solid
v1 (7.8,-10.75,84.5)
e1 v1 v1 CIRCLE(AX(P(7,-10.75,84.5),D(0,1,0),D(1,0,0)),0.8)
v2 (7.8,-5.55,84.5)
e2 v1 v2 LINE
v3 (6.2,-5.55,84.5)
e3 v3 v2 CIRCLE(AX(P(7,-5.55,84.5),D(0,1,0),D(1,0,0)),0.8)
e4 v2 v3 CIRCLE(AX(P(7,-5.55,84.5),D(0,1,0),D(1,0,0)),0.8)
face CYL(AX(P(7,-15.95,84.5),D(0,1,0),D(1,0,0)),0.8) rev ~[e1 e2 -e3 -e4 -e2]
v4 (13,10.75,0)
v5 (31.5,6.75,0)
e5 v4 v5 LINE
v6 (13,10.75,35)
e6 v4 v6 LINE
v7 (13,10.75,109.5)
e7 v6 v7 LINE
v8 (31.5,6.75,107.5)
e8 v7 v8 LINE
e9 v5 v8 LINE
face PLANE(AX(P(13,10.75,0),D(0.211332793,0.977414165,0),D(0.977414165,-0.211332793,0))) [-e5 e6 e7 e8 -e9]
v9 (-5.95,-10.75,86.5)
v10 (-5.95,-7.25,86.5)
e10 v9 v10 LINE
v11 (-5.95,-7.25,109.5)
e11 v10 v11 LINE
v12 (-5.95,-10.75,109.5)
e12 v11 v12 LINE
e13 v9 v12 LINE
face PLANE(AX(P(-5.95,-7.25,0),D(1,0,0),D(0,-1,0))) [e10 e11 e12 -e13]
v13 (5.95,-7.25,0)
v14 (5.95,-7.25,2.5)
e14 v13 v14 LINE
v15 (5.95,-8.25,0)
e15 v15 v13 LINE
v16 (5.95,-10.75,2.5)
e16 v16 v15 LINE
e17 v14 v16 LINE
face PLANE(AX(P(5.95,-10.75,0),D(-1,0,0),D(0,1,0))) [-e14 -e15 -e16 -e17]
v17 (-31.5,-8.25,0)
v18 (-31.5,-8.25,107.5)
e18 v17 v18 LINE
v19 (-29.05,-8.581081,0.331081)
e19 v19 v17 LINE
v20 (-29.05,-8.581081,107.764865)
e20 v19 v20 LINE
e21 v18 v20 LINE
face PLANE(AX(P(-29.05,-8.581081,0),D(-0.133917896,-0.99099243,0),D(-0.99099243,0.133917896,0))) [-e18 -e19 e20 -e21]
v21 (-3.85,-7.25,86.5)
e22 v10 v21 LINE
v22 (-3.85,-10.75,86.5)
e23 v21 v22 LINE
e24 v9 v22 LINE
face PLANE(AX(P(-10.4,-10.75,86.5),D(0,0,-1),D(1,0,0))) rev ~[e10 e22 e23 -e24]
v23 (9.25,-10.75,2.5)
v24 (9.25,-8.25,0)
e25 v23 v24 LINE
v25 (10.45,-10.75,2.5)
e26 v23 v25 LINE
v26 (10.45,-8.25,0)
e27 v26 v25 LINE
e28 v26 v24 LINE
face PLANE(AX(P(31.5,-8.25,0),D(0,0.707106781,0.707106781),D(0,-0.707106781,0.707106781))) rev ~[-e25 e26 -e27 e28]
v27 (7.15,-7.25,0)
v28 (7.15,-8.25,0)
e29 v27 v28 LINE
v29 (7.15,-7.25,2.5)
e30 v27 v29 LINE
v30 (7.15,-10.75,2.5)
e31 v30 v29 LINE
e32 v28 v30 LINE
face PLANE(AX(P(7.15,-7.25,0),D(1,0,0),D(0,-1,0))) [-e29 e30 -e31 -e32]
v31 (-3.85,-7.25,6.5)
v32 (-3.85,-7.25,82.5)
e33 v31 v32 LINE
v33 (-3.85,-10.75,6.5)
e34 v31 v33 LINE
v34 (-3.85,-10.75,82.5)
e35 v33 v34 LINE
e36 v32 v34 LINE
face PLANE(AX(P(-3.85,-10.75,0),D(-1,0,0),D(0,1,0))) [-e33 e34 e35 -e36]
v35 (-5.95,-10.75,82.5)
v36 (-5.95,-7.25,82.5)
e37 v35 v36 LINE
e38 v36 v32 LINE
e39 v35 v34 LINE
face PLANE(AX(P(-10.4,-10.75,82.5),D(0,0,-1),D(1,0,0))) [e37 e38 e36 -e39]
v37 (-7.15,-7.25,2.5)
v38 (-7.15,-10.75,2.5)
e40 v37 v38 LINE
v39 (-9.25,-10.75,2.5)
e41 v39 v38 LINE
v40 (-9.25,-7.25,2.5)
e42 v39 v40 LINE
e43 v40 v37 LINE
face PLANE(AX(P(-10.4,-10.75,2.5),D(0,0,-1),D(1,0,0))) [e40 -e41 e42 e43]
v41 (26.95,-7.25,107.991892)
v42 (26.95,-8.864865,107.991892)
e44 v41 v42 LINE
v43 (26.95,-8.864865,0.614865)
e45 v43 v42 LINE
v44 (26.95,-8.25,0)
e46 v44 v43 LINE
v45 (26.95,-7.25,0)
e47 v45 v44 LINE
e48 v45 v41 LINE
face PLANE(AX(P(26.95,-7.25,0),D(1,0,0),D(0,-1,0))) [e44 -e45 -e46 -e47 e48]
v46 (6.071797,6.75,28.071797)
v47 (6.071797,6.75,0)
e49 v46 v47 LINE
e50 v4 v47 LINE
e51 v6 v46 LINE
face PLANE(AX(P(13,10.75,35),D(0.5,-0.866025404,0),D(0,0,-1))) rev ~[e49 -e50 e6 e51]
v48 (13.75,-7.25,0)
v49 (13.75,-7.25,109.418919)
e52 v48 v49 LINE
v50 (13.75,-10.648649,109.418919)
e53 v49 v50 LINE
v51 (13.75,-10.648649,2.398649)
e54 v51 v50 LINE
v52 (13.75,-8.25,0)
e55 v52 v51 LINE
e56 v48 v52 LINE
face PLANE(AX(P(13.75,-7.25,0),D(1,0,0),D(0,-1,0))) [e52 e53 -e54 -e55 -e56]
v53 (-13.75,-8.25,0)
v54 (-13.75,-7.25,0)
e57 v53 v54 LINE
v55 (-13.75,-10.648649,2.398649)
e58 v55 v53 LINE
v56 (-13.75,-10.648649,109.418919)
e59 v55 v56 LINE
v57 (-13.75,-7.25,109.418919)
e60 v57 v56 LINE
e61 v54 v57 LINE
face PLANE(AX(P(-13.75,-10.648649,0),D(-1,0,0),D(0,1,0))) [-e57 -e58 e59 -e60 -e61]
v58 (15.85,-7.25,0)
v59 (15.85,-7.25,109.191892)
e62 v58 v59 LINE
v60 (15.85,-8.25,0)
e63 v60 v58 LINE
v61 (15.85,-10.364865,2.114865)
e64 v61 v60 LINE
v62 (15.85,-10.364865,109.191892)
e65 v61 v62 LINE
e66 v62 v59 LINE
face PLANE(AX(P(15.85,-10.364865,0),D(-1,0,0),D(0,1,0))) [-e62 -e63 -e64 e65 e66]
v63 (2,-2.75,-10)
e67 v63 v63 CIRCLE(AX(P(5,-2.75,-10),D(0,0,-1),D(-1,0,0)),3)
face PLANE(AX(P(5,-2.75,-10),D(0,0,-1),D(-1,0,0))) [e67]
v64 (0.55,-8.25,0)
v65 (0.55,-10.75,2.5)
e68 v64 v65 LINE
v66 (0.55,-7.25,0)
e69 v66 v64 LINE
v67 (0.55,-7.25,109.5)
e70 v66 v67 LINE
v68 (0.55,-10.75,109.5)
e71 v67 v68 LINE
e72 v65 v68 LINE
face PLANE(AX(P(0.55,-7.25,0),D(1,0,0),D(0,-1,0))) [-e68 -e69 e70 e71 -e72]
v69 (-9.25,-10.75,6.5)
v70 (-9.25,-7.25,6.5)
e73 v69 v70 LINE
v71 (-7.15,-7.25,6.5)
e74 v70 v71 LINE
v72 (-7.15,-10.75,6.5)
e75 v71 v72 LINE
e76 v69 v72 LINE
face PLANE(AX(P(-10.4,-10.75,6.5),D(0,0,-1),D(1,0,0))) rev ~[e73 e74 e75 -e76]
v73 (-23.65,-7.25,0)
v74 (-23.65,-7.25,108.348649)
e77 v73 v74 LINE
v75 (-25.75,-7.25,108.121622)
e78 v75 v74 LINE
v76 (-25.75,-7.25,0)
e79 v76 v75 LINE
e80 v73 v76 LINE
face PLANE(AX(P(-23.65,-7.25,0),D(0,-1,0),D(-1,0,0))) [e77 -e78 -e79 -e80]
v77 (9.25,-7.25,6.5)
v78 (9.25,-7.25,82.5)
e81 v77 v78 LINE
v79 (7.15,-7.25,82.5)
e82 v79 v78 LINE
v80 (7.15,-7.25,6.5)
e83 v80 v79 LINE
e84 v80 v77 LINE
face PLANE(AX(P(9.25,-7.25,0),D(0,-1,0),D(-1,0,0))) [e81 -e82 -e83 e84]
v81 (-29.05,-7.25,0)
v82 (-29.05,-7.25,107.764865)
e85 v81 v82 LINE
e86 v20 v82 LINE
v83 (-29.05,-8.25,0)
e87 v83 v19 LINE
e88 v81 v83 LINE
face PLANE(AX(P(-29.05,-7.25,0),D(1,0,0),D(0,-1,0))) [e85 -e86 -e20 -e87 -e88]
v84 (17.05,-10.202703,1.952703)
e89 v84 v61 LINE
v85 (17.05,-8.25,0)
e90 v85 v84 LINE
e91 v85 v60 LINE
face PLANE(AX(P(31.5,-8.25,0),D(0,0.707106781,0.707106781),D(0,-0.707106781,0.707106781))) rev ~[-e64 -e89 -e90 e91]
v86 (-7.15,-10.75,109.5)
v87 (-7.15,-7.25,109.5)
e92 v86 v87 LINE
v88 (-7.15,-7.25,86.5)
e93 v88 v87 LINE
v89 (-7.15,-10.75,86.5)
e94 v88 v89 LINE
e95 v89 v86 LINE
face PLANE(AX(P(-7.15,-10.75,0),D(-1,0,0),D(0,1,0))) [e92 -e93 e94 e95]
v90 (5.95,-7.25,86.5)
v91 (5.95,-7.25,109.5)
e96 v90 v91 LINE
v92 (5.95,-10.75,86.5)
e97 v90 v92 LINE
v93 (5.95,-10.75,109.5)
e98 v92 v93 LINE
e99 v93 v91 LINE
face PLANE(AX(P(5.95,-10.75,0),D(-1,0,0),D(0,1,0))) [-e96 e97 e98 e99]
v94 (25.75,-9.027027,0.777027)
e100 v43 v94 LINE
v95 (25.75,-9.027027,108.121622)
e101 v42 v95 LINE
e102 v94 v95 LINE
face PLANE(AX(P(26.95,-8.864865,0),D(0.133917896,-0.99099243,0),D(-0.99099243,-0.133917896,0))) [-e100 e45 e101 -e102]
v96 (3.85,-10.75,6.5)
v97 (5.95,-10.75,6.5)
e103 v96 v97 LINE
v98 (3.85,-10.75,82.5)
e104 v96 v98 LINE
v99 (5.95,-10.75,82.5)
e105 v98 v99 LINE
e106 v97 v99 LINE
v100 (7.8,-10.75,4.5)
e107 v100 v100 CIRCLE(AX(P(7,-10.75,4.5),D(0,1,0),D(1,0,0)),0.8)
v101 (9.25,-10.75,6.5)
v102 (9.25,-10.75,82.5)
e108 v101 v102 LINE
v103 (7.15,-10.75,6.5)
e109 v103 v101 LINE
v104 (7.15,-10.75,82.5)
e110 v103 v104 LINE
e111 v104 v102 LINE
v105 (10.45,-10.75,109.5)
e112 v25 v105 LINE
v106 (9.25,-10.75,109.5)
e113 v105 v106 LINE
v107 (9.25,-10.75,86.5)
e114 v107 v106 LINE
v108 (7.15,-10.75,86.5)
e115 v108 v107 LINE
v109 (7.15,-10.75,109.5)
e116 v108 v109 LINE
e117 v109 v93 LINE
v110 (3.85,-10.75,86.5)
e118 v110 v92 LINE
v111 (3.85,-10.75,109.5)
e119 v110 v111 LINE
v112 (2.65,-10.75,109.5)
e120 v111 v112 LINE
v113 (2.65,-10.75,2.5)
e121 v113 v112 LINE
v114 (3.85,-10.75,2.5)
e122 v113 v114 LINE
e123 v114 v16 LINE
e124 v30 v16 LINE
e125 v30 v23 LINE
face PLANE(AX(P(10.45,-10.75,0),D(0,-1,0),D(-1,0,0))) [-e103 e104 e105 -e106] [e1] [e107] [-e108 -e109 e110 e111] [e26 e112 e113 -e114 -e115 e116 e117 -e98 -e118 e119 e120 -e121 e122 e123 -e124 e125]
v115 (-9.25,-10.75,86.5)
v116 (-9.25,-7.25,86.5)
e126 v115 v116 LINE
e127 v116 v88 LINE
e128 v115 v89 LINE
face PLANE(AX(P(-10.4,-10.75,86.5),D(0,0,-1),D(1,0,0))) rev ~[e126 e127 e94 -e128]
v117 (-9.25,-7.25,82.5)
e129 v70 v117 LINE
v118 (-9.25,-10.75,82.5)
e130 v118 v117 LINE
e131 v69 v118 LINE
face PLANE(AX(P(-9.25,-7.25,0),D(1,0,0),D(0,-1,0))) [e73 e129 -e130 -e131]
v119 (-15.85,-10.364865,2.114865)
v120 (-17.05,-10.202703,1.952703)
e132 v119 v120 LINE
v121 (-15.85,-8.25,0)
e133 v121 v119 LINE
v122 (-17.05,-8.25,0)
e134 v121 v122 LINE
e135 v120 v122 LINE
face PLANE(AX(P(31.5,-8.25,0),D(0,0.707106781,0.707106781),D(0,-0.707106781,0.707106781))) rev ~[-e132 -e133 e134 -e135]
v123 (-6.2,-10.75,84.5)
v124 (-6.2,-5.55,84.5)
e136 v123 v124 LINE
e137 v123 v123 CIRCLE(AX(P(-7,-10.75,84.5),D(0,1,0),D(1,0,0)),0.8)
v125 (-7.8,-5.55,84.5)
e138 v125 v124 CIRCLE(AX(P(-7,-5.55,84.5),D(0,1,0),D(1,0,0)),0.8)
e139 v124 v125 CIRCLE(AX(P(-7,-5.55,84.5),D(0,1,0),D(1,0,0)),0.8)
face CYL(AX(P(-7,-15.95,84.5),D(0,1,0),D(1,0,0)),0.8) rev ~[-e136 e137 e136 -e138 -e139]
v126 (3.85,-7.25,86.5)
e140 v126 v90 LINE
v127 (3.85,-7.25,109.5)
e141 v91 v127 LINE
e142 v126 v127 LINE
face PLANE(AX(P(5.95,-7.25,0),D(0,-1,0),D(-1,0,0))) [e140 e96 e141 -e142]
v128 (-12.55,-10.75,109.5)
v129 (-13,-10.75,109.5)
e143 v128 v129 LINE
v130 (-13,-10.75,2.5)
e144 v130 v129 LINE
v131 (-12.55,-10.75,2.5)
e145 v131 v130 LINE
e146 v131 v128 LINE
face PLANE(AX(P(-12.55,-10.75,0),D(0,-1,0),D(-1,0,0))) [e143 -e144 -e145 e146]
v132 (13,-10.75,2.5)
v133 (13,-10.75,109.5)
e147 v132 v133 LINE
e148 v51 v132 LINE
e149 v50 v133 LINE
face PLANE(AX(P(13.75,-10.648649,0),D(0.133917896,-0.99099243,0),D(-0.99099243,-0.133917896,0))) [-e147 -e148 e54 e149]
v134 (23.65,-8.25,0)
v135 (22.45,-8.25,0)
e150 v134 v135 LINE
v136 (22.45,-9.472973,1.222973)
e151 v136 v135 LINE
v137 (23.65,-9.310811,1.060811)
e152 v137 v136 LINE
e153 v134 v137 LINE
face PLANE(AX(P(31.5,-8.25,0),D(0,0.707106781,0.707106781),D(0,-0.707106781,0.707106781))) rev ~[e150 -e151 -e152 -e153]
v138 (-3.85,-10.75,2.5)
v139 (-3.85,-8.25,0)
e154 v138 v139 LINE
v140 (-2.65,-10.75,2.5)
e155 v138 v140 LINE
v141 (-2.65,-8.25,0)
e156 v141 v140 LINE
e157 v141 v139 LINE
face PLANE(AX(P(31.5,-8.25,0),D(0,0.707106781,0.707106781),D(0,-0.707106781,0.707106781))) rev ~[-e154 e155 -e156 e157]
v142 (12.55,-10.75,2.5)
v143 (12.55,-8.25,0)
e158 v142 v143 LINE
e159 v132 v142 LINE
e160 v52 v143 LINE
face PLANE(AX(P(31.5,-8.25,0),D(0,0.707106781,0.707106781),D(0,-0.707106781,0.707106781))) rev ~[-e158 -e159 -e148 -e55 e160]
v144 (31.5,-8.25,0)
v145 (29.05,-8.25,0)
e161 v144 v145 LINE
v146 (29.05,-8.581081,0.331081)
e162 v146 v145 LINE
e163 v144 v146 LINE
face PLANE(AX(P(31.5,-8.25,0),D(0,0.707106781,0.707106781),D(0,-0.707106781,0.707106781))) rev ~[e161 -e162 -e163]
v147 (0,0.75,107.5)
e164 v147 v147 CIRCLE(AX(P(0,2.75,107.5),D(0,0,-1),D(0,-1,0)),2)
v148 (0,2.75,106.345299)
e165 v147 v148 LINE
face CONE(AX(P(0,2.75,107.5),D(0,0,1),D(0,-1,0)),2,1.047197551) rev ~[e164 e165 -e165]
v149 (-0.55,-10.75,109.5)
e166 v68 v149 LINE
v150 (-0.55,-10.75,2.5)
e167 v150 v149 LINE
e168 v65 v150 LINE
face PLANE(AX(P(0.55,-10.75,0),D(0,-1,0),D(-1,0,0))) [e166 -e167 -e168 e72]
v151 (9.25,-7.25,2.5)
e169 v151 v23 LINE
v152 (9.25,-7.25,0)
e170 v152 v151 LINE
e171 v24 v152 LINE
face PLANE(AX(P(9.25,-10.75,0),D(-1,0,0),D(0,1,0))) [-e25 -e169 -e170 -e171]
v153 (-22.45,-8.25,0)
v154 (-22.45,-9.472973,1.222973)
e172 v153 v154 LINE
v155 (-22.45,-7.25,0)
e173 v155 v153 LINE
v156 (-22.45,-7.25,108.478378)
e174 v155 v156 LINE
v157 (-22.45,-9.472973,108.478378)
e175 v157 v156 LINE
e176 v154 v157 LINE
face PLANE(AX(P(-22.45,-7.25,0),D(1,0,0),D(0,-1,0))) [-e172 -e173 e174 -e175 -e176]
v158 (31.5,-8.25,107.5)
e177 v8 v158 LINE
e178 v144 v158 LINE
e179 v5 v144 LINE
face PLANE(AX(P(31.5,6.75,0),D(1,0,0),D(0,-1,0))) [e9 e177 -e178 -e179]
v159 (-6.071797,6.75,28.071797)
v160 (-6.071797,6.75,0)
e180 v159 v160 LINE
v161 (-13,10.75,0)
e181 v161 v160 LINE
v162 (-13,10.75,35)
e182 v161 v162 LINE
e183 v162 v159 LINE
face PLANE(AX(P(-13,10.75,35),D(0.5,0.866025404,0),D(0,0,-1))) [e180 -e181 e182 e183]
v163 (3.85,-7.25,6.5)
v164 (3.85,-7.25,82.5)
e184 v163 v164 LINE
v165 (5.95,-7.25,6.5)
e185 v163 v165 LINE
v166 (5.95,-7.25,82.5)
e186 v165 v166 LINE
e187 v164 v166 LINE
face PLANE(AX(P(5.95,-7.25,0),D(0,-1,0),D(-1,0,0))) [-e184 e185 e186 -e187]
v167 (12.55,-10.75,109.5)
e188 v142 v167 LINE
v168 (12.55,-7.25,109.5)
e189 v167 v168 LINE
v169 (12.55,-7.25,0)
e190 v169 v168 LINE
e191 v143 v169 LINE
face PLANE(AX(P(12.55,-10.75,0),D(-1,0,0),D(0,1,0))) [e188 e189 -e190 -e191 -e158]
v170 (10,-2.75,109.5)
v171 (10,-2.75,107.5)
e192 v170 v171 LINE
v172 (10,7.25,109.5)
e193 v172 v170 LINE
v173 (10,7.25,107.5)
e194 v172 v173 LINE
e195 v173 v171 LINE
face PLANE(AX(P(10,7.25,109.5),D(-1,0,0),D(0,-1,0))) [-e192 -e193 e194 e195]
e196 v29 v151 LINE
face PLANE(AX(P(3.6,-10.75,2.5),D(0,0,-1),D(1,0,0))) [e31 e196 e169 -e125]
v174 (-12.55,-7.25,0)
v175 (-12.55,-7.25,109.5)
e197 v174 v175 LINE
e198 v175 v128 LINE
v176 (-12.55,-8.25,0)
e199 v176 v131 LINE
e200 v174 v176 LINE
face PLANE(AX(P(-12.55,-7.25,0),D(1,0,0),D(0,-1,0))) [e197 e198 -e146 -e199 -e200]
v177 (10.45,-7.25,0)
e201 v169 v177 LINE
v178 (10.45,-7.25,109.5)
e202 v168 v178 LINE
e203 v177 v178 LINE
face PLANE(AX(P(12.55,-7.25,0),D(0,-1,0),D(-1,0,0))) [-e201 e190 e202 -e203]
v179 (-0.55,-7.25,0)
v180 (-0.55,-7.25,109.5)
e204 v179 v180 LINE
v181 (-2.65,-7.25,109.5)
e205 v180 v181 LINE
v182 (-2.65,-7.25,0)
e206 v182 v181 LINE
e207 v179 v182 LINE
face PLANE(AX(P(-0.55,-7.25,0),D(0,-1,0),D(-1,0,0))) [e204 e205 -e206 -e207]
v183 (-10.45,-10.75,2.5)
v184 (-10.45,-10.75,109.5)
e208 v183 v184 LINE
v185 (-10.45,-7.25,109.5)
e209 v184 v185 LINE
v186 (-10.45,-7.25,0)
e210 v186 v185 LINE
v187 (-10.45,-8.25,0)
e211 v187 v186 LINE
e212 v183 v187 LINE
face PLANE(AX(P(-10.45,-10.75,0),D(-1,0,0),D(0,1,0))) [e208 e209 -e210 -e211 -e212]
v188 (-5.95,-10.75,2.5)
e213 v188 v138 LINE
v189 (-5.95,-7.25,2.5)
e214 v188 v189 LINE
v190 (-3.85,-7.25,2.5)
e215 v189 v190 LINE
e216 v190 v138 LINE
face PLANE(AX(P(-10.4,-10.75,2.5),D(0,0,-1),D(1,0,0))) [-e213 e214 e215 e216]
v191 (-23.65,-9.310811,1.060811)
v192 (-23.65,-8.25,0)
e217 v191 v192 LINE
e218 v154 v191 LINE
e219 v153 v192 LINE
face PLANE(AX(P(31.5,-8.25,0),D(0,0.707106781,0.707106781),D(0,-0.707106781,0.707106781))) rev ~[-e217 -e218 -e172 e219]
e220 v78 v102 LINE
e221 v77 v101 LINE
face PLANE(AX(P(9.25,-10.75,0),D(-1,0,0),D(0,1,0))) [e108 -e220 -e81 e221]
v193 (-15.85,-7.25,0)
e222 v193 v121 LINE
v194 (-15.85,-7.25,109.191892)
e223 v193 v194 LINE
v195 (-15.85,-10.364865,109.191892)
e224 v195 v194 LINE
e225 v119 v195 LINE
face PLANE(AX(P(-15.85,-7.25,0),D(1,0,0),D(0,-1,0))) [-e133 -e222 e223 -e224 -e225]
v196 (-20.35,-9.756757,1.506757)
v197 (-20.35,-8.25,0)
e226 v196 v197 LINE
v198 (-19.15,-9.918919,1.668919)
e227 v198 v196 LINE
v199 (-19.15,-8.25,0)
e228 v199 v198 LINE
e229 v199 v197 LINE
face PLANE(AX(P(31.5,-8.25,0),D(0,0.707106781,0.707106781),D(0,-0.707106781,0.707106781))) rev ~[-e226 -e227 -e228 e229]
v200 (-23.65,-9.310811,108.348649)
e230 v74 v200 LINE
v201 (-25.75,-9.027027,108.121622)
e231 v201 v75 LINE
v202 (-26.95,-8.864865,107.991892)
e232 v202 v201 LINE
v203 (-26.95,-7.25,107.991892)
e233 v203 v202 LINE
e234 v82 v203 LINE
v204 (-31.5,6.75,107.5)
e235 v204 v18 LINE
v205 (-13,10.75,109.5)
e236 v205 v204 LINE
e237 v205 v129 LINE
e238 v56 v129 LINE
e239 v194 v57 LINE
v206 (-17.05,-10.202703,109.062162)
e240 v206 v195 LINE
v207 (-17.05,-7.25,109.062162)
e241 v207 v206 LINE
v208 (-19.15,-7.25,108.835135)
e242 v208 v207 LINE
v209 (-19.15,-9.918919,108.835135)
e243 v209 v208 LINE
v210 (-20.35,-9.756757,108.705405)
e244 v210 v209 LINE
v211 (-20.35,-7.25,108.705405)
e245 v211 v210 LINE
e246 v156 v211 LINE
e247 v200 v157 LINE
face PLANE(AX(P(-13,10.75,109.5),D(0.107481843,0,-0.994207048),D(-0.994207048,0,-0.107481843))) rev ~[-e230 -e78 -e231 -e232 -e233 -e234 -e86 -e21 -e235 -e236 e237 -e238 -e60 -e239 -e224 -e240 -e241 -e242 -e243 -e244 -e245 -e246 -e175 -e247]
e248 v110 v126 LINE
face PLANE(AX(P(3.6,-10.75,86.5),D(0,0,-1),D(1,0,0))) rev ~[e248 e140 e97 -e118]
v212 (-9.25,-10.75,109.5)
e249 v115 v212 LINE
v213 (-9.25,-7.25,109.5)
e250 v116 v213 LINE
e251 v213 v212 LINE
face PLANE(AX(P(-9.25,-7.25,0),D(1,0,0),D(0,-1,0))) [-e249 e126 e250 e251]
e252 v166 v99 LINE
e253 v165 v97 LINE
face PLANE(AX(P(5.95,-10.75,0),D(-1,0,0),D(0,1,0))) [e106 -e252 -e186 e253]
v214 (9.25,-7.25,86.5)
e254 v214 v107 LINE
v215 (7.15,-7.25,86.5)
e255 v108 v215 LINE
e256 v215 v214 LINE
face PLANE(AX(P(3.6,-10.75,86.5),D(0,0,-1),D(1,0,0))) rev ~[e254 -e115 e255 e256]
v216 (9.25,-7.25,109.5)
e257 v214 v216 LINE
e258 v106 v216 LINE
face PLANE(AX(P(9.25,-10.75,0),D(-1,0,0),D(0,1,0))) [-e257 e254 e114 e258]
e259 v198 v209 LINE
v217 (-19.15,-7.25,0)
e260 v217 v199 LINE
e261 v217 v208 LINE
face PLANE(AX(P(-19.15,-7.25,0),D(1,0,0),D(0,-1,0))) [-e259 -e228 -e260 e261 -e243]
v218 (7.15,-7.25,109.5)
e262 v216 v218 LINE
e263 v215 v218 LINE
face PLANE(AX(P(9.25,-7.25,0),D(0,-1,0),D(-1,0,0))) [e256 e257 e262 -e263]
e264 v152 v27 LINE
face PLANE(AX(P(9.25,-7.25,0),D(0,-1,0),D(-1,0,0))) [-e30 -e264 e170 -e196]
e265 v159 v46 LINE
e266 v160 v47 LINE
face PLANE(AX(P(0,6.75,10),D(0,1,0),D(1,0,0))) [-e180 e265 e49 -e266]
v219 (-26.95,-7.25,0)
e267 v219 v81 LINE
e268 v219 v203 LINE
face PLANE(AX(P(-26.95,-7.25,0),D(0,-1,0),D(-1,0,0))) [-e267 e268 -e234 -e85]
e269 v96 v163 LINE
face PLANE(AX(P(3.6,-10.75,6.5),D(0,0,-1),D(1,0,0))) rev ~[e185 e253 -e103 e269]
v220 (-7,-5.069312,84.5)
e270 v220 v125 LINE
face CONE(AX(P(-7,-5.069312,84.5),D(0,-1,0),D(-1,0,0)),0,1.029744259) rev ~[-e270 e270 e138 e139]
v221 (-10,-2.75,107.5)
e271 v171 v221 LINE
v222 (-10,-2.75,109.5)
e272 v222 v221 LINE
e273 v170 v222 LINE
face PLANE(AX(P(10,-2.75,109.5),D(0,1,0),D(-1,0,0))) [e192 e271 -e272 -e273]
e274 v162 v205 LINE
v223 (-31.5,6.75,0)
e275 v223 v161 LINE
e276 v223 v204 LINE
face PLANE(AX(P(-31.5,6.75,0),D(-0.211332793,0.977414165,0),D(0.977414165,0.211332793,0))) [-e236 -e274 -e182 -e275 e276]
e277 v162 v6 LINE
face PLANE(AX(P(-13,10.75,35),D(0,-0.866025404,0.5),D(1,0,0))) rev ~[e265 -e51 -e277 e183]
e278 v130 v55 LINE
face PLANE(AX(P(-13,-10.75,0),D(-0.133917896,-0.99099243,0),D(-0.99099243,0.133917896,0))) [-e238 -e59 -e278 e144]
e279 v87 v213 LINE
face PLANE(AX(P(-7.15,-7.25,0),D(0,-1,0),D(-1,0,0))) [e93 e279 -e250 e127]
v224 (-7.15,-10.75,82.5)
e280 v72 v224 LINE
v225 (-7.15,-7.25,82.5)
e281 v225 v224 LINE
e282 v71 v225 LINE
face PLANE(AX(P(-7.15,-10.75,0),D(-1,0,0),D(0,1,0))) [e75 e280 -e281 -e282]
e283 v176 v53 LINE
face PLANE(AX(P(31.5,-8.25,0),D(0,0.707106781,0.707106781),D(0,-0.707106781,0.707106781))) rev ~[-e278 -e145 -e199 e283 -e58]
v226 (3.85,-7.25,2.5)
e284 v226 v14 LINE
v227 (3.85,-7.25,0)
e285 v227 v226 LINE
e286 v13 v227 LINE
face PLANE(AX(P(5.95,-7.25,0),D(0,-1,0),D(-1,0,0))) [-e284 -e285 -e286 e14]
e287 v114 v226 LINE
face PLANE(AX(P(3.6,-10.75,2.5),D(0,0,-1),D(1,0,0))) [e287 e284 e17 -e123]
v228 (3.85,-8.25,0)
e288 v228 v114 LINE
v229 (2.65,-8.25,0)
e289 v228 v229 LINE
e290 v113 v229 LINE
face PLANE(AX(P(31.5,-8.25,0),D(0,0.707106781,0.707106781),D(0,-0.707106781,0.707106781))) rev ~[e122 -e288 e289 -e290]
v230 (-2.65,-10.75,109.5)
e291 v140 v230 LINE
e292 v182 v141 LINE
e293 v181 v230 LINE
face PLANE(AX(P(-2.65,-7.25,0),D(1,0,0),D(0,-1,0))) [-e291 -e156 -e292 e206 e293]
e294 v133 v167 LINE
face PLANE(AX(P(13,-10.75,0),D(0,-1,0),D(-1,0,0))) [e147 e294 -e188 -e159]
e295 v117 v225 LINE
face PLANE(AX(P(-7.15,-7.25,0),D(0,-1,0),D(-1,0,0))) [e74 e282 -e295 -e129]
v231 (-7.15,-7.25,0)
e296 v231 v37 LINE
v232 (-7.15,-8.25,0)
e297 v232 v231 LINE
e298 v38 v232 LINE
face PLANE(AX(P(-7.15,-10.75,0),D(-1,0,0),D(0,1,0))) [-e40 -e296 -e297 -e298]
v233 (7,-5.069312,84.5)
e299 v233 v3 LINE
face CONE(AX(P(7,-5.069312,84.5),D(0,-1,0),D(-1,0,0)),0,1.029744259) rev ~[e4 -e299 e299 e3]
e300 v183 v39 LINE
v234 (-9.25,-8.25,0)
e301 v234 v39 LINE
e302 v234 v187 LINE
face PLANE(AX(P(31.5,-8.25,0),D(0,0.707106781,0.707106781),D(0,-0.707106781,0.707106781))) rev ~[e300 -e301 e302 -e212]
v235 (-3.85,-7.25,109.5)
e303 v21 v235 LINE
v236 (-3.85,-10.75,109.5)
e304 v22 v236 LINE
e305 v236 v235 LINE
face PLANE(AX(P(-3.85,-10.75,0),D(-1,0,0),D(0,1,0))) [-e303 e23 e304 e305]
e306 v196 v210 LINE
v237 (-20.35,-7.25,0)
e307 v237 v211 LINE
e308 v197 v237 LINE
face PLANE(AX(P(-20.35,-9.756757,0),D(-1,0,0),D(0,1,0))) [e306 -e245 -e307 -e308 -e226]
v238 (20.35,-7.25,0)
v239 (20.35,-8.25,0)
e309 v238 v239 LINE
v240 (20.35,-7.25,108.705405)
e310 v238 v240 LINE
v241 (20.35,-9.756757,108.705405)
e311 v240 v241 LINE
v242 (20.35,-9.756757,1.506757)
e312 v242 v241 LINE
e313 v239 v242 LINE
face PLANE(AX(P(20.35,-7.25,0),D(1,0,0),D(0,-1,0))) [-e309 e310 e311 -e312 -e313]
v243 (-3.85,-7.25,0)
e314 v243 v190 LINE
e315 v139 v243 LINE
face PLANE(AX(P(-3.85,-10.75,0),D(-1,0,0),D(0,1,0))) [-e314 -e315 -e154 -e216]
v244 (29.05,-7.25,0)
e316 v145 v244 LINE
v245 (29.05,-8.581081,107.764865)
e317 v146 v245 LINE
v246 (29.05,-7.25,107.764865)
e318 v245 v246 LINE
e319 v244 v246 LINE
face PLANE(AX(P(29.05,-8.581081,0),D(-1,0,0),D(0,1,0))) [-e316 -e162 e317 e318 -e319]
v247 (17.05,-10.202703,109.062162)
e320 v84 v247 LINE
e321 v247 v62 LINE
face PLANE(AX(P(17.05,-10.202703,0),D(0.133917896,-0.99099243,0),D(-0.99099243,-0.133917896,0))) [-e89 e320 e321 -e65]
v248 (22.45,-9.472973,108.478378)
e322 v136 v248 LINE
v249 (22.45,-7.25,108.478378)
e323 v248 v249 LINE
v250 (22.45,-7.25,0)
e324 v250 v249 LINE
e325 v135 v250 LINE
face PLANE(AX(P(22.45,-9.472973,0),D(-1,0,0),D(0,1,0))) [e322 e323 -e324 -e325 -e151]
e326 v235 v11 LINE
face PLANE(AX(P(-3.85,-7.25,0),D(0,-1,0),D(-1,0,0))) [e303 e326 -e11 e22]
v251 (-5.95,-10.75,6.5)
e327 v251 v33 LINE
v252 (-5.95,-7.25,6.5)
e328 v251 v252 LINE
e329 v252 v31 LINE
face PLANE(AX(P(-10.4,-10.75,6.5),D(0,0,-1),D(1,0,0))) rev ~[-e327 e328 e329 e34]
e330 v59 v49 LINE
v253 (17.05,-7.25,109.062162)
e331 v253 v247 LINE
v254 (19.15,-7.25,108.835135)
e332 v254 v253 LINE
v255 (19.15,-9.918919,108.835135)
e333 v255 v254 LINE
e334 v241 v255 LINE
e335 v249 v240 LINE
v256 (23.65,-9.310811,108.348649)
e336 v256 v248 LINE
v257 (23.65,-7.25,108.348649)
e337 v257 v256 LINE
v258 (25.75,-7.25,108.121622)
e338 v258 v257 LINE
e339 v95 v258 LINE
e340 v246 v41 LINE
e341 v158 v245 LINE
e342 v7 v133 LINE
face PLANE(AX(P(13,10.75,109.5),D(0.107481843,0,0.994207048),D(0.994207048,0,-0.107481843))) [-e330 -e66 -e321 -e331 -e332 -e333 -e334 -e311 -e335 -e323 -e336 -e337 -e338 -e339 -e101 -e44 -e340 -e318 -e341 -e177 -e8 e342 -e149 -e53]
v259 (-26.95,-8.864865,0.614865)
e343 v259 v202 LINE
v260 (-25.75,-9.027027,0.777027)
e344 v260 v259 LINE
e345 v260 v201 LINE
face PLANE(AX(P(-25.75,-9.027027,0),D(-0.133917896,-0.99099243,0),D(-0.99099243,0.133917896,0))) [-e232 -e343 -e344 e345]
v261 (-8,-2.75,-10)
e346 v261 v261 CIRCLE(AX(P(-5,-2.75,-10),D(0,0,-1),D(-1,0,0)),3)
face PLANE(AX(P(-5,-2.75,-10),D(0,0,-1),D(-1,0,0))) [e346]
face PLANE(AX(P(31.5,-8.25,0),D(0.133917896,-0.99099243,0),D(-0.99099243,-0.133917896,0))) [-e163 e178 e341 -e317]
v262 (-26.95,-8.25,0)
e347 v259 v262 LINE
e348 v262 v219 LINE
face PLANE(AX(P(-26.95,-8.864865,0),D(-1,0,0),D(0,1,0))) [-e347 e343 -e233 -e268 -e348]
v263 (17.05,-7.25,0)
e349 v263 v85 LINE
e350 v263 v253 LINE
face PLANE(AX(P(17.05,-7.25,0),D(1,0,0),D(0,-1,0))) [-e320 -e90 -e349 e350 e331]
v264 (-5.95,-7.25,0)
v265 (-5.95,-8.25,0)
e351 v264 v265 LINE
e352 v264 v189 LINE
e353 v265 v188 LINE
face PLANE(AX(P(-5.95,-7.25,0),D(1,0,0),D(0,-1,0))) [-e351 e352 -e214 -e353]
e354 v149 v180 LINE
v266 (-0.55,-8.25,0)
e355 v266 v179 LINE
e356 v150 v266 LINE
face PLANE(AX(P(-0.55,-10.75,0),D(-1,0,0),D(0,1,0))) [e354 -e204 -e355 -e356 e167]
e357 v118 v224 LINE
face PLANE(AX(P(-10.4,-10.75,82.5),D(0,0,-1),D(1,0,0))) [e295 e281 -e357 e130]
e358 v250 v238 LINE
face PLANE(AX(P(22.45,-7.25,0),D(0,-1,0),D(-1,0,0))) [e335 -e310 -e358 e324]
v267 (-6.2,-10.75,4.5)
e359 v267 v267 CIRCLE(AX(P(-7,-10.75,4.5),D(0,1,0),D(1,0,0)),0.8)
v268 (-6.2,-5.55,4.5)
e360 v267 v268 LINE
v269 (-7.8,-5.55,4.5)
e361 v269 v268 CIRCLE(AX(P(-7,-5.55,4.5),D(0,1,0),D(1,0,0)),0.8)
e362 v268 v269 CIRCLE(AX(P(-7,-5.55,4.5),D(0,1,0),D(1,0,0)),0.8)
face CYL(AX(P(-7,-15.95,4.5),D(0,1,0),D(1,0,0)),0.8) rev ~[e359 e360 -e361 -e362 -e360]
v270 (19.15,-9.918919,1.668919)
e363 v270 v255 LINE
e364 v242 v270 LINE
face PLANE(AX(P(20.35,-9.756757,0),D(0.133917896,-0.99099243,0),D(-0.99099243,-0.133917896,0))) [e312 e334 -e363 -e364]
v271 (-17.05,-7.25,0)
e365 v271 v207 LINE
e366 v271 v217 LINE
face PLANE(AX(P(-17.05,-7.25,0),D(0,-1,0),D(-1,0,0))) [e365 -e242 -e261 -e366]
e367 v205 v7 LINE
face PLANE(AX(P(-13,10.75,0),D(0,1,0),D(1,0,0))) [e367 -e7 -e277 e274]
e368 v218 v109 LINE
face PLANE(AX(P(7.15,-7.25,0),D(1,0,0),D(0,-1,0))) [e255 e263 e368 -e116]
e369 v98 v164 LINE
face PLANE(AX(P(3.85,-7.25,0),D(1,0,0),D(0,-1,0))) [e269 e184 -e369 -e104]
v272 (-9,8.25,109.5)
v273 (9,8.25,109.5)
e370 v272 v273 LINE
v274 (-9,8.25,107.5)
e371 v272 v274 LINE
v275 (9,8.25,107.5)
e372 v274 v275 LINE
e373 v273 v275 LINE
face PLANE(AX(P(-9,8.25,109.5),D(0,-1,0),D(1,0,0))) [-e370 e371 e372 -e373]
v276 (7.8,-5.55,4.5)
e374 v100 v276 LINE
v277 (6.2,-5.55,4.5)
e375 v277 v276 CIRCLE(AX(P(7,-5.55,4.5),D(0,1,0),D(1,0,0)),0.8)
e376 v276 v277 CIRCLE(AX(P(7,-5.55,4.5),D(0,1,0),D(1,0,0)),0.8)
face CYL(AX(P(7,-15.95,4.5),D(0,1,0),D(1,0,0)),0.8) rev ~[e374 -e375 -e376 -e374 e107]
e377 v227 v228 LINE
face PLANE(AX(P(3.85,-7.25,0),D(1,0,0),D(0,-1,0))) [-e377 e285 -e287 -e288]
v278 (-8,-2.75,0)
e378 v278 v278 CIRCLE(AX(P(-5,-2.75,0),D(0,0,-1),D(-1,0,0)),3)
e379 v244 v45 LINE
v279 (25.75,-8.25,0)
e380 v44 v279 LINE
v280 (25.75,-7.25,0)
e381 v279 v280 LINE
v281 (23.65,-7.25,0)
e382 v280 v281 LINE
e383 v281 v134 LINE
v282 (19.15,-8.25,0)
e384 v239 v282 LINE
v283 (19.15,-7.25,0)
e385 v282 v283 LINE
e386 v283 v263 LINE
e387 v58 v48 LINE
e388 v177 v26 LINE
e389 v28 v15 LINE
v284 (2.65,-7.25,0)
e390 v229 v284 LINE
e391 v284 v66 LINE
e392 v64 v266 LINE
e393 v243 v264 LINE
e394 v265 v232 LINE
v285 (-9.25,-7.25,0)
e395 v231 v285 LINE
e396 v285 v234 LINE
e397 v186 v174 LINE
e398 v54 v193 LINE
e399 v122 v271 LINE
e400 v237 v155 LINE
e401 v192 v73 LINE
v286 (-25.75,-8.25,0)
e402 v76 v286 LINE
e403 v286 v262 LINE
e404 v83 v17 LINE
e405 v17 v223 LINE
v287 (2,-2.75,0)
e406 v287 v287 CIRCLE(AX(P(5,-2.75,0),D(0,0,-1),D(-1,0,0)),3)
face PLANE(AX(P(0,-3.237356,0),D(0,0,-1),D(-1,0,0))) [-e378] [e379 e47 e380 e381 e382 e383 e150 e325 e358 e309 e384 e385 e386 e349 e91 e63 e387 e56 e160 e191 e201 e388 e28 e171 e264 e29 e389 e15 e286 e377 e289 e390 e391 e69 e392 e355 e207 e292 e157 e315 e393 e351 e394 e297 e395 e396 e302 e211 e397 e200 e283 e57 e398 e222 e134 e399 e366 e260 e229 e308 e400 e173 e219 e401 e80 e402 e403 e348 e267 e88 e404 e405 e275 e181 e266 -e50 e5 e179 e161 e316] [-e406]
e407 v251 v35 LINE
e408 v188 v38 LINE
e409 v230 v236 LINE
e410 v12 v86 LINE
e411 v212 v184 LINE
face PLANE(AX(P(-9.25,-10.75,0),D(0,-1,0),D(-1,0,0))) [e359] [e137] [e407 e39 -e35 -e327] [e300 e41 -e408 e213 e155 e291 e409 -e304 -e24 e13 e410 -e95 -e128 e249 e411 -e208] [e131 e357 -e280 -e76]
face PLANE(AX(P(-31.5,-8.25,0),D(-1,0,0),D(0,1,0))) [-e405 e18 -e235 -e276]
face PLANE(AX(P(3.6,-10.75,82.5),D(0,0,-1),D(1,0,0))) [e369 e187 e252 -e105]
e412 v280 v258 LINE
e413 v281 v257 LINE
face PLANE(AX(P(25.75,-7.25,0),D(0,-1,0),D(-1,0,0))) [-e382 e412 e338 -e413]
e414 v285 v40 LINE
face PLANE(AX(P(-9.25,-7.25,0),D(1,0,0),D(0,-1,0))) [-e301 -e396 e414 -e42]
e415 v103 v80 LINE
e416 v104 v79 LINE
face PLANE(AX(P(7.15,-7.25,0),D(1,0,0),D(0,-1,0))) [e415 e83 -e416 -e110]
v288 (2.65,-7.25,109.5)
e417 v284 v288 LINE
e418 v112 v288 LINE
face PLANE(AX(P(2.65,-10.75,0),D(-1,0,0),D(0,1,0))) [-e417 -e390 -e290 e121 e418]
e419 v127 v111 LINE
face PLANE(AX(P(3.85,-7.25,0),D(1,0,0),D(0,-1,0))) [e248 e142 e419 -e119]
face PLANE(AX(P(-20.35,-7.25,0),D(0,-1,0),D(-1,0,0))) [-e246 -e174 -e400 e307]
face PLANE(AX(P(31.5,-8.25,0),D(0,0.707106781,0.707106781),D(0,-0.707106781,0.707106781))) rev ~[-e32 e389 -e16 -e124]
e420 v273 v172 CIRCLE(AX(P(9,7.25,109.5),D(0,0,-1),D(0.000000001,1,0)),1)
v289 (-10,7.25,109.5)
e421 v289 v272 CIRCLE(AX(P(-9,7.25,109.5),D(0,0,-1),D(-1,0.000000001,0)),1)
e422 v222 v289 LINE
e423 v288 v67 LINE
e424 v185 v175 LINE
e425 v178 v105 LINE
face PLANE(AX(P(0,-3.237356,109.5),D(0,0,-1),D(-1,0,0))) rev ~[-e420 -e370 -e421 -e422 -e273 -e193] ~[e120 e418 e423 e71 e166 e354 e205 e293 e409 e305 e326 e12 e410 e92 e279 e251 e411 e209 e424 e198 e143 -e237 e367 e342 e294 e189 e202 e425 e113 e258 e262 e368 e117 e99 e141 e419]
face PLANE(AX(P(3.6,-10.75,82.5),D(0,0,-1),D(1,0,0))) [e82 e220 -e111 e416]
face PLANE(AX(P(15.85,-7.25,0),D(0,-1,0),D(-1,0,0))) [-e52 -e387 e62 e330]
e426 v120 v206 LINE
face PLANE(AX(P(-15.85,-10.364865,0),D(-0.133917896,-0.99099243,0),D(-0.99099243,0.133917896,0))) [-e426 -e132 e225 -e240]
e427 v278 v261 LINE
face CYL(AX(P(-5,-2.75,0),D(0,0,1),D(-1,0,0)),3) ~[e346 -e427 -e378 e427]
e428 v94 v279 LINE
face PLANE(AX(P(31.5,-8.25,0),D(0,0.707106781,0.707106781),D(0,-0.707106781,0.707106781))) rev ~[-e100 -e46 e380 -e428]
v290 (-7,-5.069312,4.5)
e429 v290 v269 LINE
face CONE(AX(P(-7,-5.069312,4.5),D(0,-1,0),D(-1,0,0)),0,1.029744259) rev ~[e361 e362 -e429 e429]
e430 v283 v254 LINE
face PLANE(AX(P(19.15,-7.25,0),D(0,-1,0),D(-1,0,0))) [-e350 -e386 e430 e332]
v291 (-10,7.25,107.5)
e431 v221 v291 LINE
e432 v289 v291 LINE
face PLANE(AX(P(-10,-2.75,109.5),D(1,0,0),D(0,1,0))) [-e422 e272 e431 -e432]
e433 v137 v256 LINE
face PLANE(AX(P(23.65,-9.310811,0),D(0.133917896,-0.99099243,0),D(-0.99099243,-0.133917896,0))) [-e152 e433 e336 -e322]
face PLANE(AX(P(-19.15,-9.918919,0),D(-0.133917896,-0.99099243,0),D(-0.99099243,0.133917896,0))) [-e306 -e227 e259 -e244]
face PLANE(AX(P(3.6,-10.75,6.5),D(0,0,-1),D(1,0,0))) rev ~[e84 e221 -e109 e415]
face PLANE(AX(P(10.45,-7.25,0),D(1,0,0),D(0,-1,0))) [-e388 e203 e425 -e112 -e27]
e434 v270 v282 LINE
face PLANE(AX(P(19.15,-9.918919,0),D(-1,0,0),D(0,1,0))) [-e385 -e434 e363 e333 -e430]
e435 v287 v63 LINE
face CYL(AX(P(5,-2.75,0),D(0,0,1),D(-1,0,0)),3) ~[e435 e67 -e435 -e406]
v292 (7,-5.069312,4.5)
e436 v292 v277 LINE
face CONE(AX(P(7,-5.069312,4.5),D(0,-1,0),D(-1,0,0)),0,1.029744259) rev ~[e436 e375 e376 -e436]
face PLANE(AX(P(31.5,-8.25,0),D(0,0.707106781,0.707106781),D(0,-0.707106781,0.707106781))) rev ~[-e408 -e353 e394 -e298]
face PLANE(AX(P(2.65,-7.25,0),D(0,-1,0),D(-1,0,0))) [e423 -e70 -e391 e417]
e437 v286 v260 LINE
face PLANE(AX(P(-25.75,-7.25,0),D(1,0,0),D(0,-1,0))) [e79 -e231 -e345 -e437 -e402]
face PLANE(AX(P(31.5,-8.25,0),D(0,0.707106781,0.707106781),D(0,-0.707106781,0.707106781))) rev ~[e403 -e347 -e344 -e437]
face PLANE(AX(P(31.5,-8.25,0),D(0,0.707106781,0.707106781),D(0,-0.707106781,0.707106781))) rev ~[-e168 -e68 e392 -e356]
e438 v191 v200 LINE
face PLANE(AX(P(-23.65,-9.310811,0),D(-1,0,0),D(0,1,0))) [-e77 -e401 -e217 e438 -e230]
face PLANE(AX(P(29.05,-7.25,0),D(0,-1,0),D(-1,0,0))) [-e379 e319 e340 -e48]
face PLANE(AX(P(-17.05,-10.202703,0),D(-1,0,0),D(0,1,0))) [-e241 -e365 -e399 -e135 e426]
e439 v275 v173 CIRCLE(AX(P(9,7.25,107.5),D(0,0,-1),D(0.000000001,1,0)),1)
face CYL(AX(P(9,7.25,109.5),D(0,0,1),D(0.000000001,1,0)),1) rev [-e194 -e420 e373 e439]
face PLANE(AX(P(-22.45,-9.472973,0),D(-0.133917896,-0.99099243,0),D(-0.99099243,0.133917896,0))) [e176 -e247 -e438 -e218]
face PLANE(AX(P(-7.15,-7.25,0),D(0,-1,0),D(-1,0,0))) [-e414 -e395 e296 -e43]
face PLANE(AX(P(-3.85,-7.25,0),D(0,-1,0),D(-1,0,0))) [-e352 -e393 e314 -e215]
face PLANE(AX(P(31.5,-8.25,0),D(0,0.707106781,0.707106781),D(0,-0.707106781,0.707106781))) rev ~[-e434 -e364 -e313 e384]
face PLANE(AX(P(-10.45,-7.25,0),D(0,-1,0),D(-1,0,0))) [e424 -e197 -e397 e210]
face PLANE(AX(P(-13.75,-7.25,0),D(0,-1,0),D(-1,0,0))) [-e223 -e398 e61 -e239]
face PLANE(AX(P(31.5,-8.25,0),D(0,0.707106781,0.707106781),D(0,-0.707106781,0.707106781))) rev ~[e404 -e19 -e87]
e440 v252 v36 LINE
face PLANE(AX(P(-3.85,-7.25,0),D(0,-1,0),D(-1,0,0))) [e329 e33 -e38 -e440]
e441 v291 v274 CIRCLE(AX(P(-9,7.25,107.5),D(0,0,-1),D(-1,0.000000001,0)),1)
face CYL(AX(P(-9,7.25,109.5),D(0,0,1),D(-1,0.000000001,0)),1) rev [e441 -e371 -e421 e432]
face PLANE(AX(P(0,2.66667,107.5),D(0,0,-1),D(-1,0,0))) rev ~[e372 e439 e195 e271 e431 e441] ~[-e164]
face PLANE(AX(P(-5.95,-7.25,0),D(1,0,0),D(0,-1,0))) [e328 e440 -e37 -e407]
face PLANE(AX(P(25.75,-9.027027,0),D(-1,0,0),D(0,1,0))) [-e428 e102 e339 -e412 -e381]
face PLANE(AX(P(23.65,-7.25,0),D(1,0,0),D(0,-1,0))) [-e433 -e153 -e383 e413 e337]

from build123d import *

# Parameters (mm, degrees)
EXTRUDE_1_DEPTH        = 109.5
SKETCH_2_W             = 26
SKETCH_2_H             = 50
CUT_EXTRUDE_1_DEPTH    = 4
CUT_EXTRUDE_1_DRAFT    = -60
CUT_EXTRUDE_2_DEPTH    = 127.786483901
CUT_EXTRUDE_3_DEPTH    = 116.951498481
CUT_EXTRUDE_4_DEPTH    = 2
SKETCH_7_W             = 6.8
SKETCH_7_H             = 4
EXTRUDE_2_DEPTH        = 3.5
HOLE_WIZARD_M2_1_D     = 1.6
HOLE_WIZARD_M2_1_DEPTH = 5.2
HOLE_WIZARD_M2_1_TIP   = 0.480688495
SKETCH_11_R            = 3
EXTRUDE_3_DEPTH        = 10


with BuildPart() as part:
    # 草图1 → 凸台-拉伸1 (new body)
    with BuildSketch(Plane.XY):
        Polygon((31.5, 6.75), (31.5, -8.25), (29.05, -8.581081081), (29.05, -7.25), (26.95, -7.25), (26.95, -8.864864865), (25.75, -9.027027027), (25.75, -7.25), (23.65, -7.25), (23.65, -9.310810811), (22.45, -9.472972973), (22.45, -7.25), (20.35, -7.25), (20.35, -9.756756757), (19.15, -9.918918919), (19.15, -7.25), (17.05, -7.25), (17.05, -10.202702703), (15.85, -10.364864865), (15.85, -7.25), (13.75, -7.25), (13.75, -10.648648649), (13, -10.75), (12.55, -10.75), (12.55, -7.25), (10.45, -7.25), (10.45, -10.75), (9.25, -10.75), (9.25, -7.25), (7.15, -7.25), (7.15, -10.75), (5.95, -10.75), (5.95, -7.25), (3.85, -7.25), (3.85, -10.75), (2.65, -10.75), (2.65, -7.25), (0.55, -7.25), (0.55, -10.75), (-0.55, -10.75), (-0.55, -7.25), (-2.65, -7.25), (-2.65, -10.75), (-3.85, -10.75), (-3.85, -7.25), (-5.95, -7.25), (-5.95, -10.75), (-7.15, -10.75), (-7.15, -7.25), (-9.25, -7.25), (-9.25, -10.75), (-10.45, -10.75), (-10.45, -7.25), (-12.55, -7.25), (-12.55, -10.75), (-13, -10.75), (-13.75, -10.648648649), (-13.75, -7.25), (-15.85, -7.25), (-15.85, -10.364864865), (-17.05, -10.202702703), (-17.05, -7.25), (-19.15, -7.25), (-19.15, -9.918918919), (-20.35, -9.756756757), (-20.35, -7.25), (-22.45, -7.25), (-22.45, -9.472972973), (-23.65, -9.310810811), (-23.65, -7.25), (-25.75, -7.25), (-25.75, -9.027027027), (-26.95, -8.864864865), (-26.95, -7.25), (-29.05, -7.25), (-29.05, -8.581081081), (-31.5, -8.25), (-31.5, 6.75), (-13, 10.75), (13, 10.75), align=None)
    extrude(amount=EXTRUDE_1_DEPTH)


with BuildPart() as cut_extrude_1_tool:
    # 草图2 → 切除-拉伸1 (with draft: the straight prism first)
    with BuildSketch(Plane(origin=(0, 10.75, 0), x_dir=(1, 0, 0), z_dir=(0, 1, 0))):
        with Locations((0, -10)):
            Rectangle(SKETCH_2_W, SKETCH_2_H)
    extrude(amount=-CUT_EXTRUDE_1_DEPTH)
    # 切除-拉伸1: the draft: its side faces are tilted about the plane it starts from
    cut_extrude_1_sides = [cut_extrude_1_tool.faces().sort_by_distance(p)[0] for p in [
        (-13, 8.75, 10),
        (0, 8.75, 35),
        (13, 8.75, 10),
        (0, 8.75, -15),
    ]]
    draft(cut_extrude_1_sides, Plane(origin=(0, 10.75, 0), x_dir=(1, 0, 0), z_dir=(0, 1, 0)), CUT_EXTRUDE_1_DRAFT)


with BuildPart() as part_1:
    add(part.part)

    # 切除-拉伸1: cut by cut_extrude_1_tool
    add(cut_extrude_1_tool.part, mode=Mode.SUBTRACT)

    # 草图3 → 切除-拉伸2 (cut, through all)
    with BuildSketch(Plane(origin=(31.5, 0, 0), x_dir=(0, 0, -1), z_dir=(1, 0, 0))):
        Polygon((0, -8.25), (-2.5, -10.75), (0, -10.75), align=None)
    extrude(amount=-CUT_EXTRUDE_2_DEPTH, mode=Mode.SUBTRACT)

    # 草图4 → 切除-拉伸3 (cut, through all)
    with BuildSketch(Plane(origin=(0, 10.75, 0), x_dir=(1, 0, 0), z_dir=(0, 1, 0))):
        Polygon((13, -109.5), (31.5, -107.5), (31.5, -109.5), align=None)
        Polygon((-31.5, -107.5), (-31.5, -109.5), (-13, -109.5), align=None)
    extrude(amount=-CUT_EXTRUDE_3_DEPTH, mode=Mode.SUBTRACT)

    # 草图5 → 切除-拉伸4 (cut)
    with BuildSketch(Plane.XY.offset(109.5)):
        with BuildLine():
            Line((-9, 8.25), (9, 8.25))
            ThreePointArc((9, 8.25), (9.707106781, 7.957106781), (10, 7.25))
            Line((10, 7.25), (10, -2.75))
            Line((10, -2.75), (-10, -2.75))
            Line((-10, -2.75), (-10, 7.25))
            ThreePointArc((-10, 7.25), (-9.707106781, 7.957106781), (-9, 8.25))
        make_face()
    extrude(amount=-CUT_EXTRUDE_4_DEPTH, mode=Mode.SUBTRACT)

    # 切除-拉伸5 cone 1 section (through the dimple's axis) → 切除-拉伸5 (revolve, cut)
    with BuildSketch(Plane(origin=(0, 2.75, 107.5), x_dir=(0, -1, 0), z_dir=(1, 0, 0))):
        Polygon((0, 0), (2, 0), (0, 1.154700538), align=None)
    revolve(axis=Axis((0, 2.75, 107.5), (0, 0, -1)), mode=Mode.SUBTRACT)

    # 草图7 → 凸台-拉伸2 (add)
    with BuildSketch(Plane.XZ.offset(10.75)):
        with Locations((-7, 84.5)):
            Rectangle(SKETCH_7_W, SKETCH_7_H)
        with Locations((7, 84.5)):
            Rectangle(SKETCH_7_W, SKETCH_7_H)
        with Locations((7, 4.5)):
            Rectangle(SKETCH_7_W, SKETCH_7_H)
        with Locations((-7, 4.5)):
            Rectangle(SKETCH_7_W, SKETCH_7_H)
    extrude(amount=-EXTRUDE_2_DEPTH)

    # M2 螺纹孔1
    with Locations(Plane(origin=(0, -10.75, 0), x_dir=(-1, 0, 0), z_dir=(0, -1, 0))):
        with Locations((7, -4.5), (-7, -4.5), (7, -84.5), (-7, -84.5)):
            Hole(HOLE_WIZARD_M2_1_D / 2, depth=HOLE_WIZARD_M2_1_DEPTH)
            with Locations((0, 0, -(HOLE_WIZARD_M2_1_DEPTH + HOLE_WIZARD_M2_1_TIP / 2))):  # 118° drill point
                Cone(0, HOLE_WIZARD_M2_1_D / 2, HOLE_WIZARD_M2_1_TIP, mode=Mode.SUBTRACT)

    # 草图11 → 凸台-拉伸3 (add)
    with BuildSketch(Plane(origin=(0, 0, 0), x_dir=(-1, 0, 0), z_dir=(0, 0, -1))):
        with Locations((5, -2.75)):
            Circle(SKETCH_11_R)
        with Locations((-5, -2.75)):
            Circle(SKETCH_11_R)
    extrude(amount=EXTRUDE_3_DEPTH)


solid = part_1.part
